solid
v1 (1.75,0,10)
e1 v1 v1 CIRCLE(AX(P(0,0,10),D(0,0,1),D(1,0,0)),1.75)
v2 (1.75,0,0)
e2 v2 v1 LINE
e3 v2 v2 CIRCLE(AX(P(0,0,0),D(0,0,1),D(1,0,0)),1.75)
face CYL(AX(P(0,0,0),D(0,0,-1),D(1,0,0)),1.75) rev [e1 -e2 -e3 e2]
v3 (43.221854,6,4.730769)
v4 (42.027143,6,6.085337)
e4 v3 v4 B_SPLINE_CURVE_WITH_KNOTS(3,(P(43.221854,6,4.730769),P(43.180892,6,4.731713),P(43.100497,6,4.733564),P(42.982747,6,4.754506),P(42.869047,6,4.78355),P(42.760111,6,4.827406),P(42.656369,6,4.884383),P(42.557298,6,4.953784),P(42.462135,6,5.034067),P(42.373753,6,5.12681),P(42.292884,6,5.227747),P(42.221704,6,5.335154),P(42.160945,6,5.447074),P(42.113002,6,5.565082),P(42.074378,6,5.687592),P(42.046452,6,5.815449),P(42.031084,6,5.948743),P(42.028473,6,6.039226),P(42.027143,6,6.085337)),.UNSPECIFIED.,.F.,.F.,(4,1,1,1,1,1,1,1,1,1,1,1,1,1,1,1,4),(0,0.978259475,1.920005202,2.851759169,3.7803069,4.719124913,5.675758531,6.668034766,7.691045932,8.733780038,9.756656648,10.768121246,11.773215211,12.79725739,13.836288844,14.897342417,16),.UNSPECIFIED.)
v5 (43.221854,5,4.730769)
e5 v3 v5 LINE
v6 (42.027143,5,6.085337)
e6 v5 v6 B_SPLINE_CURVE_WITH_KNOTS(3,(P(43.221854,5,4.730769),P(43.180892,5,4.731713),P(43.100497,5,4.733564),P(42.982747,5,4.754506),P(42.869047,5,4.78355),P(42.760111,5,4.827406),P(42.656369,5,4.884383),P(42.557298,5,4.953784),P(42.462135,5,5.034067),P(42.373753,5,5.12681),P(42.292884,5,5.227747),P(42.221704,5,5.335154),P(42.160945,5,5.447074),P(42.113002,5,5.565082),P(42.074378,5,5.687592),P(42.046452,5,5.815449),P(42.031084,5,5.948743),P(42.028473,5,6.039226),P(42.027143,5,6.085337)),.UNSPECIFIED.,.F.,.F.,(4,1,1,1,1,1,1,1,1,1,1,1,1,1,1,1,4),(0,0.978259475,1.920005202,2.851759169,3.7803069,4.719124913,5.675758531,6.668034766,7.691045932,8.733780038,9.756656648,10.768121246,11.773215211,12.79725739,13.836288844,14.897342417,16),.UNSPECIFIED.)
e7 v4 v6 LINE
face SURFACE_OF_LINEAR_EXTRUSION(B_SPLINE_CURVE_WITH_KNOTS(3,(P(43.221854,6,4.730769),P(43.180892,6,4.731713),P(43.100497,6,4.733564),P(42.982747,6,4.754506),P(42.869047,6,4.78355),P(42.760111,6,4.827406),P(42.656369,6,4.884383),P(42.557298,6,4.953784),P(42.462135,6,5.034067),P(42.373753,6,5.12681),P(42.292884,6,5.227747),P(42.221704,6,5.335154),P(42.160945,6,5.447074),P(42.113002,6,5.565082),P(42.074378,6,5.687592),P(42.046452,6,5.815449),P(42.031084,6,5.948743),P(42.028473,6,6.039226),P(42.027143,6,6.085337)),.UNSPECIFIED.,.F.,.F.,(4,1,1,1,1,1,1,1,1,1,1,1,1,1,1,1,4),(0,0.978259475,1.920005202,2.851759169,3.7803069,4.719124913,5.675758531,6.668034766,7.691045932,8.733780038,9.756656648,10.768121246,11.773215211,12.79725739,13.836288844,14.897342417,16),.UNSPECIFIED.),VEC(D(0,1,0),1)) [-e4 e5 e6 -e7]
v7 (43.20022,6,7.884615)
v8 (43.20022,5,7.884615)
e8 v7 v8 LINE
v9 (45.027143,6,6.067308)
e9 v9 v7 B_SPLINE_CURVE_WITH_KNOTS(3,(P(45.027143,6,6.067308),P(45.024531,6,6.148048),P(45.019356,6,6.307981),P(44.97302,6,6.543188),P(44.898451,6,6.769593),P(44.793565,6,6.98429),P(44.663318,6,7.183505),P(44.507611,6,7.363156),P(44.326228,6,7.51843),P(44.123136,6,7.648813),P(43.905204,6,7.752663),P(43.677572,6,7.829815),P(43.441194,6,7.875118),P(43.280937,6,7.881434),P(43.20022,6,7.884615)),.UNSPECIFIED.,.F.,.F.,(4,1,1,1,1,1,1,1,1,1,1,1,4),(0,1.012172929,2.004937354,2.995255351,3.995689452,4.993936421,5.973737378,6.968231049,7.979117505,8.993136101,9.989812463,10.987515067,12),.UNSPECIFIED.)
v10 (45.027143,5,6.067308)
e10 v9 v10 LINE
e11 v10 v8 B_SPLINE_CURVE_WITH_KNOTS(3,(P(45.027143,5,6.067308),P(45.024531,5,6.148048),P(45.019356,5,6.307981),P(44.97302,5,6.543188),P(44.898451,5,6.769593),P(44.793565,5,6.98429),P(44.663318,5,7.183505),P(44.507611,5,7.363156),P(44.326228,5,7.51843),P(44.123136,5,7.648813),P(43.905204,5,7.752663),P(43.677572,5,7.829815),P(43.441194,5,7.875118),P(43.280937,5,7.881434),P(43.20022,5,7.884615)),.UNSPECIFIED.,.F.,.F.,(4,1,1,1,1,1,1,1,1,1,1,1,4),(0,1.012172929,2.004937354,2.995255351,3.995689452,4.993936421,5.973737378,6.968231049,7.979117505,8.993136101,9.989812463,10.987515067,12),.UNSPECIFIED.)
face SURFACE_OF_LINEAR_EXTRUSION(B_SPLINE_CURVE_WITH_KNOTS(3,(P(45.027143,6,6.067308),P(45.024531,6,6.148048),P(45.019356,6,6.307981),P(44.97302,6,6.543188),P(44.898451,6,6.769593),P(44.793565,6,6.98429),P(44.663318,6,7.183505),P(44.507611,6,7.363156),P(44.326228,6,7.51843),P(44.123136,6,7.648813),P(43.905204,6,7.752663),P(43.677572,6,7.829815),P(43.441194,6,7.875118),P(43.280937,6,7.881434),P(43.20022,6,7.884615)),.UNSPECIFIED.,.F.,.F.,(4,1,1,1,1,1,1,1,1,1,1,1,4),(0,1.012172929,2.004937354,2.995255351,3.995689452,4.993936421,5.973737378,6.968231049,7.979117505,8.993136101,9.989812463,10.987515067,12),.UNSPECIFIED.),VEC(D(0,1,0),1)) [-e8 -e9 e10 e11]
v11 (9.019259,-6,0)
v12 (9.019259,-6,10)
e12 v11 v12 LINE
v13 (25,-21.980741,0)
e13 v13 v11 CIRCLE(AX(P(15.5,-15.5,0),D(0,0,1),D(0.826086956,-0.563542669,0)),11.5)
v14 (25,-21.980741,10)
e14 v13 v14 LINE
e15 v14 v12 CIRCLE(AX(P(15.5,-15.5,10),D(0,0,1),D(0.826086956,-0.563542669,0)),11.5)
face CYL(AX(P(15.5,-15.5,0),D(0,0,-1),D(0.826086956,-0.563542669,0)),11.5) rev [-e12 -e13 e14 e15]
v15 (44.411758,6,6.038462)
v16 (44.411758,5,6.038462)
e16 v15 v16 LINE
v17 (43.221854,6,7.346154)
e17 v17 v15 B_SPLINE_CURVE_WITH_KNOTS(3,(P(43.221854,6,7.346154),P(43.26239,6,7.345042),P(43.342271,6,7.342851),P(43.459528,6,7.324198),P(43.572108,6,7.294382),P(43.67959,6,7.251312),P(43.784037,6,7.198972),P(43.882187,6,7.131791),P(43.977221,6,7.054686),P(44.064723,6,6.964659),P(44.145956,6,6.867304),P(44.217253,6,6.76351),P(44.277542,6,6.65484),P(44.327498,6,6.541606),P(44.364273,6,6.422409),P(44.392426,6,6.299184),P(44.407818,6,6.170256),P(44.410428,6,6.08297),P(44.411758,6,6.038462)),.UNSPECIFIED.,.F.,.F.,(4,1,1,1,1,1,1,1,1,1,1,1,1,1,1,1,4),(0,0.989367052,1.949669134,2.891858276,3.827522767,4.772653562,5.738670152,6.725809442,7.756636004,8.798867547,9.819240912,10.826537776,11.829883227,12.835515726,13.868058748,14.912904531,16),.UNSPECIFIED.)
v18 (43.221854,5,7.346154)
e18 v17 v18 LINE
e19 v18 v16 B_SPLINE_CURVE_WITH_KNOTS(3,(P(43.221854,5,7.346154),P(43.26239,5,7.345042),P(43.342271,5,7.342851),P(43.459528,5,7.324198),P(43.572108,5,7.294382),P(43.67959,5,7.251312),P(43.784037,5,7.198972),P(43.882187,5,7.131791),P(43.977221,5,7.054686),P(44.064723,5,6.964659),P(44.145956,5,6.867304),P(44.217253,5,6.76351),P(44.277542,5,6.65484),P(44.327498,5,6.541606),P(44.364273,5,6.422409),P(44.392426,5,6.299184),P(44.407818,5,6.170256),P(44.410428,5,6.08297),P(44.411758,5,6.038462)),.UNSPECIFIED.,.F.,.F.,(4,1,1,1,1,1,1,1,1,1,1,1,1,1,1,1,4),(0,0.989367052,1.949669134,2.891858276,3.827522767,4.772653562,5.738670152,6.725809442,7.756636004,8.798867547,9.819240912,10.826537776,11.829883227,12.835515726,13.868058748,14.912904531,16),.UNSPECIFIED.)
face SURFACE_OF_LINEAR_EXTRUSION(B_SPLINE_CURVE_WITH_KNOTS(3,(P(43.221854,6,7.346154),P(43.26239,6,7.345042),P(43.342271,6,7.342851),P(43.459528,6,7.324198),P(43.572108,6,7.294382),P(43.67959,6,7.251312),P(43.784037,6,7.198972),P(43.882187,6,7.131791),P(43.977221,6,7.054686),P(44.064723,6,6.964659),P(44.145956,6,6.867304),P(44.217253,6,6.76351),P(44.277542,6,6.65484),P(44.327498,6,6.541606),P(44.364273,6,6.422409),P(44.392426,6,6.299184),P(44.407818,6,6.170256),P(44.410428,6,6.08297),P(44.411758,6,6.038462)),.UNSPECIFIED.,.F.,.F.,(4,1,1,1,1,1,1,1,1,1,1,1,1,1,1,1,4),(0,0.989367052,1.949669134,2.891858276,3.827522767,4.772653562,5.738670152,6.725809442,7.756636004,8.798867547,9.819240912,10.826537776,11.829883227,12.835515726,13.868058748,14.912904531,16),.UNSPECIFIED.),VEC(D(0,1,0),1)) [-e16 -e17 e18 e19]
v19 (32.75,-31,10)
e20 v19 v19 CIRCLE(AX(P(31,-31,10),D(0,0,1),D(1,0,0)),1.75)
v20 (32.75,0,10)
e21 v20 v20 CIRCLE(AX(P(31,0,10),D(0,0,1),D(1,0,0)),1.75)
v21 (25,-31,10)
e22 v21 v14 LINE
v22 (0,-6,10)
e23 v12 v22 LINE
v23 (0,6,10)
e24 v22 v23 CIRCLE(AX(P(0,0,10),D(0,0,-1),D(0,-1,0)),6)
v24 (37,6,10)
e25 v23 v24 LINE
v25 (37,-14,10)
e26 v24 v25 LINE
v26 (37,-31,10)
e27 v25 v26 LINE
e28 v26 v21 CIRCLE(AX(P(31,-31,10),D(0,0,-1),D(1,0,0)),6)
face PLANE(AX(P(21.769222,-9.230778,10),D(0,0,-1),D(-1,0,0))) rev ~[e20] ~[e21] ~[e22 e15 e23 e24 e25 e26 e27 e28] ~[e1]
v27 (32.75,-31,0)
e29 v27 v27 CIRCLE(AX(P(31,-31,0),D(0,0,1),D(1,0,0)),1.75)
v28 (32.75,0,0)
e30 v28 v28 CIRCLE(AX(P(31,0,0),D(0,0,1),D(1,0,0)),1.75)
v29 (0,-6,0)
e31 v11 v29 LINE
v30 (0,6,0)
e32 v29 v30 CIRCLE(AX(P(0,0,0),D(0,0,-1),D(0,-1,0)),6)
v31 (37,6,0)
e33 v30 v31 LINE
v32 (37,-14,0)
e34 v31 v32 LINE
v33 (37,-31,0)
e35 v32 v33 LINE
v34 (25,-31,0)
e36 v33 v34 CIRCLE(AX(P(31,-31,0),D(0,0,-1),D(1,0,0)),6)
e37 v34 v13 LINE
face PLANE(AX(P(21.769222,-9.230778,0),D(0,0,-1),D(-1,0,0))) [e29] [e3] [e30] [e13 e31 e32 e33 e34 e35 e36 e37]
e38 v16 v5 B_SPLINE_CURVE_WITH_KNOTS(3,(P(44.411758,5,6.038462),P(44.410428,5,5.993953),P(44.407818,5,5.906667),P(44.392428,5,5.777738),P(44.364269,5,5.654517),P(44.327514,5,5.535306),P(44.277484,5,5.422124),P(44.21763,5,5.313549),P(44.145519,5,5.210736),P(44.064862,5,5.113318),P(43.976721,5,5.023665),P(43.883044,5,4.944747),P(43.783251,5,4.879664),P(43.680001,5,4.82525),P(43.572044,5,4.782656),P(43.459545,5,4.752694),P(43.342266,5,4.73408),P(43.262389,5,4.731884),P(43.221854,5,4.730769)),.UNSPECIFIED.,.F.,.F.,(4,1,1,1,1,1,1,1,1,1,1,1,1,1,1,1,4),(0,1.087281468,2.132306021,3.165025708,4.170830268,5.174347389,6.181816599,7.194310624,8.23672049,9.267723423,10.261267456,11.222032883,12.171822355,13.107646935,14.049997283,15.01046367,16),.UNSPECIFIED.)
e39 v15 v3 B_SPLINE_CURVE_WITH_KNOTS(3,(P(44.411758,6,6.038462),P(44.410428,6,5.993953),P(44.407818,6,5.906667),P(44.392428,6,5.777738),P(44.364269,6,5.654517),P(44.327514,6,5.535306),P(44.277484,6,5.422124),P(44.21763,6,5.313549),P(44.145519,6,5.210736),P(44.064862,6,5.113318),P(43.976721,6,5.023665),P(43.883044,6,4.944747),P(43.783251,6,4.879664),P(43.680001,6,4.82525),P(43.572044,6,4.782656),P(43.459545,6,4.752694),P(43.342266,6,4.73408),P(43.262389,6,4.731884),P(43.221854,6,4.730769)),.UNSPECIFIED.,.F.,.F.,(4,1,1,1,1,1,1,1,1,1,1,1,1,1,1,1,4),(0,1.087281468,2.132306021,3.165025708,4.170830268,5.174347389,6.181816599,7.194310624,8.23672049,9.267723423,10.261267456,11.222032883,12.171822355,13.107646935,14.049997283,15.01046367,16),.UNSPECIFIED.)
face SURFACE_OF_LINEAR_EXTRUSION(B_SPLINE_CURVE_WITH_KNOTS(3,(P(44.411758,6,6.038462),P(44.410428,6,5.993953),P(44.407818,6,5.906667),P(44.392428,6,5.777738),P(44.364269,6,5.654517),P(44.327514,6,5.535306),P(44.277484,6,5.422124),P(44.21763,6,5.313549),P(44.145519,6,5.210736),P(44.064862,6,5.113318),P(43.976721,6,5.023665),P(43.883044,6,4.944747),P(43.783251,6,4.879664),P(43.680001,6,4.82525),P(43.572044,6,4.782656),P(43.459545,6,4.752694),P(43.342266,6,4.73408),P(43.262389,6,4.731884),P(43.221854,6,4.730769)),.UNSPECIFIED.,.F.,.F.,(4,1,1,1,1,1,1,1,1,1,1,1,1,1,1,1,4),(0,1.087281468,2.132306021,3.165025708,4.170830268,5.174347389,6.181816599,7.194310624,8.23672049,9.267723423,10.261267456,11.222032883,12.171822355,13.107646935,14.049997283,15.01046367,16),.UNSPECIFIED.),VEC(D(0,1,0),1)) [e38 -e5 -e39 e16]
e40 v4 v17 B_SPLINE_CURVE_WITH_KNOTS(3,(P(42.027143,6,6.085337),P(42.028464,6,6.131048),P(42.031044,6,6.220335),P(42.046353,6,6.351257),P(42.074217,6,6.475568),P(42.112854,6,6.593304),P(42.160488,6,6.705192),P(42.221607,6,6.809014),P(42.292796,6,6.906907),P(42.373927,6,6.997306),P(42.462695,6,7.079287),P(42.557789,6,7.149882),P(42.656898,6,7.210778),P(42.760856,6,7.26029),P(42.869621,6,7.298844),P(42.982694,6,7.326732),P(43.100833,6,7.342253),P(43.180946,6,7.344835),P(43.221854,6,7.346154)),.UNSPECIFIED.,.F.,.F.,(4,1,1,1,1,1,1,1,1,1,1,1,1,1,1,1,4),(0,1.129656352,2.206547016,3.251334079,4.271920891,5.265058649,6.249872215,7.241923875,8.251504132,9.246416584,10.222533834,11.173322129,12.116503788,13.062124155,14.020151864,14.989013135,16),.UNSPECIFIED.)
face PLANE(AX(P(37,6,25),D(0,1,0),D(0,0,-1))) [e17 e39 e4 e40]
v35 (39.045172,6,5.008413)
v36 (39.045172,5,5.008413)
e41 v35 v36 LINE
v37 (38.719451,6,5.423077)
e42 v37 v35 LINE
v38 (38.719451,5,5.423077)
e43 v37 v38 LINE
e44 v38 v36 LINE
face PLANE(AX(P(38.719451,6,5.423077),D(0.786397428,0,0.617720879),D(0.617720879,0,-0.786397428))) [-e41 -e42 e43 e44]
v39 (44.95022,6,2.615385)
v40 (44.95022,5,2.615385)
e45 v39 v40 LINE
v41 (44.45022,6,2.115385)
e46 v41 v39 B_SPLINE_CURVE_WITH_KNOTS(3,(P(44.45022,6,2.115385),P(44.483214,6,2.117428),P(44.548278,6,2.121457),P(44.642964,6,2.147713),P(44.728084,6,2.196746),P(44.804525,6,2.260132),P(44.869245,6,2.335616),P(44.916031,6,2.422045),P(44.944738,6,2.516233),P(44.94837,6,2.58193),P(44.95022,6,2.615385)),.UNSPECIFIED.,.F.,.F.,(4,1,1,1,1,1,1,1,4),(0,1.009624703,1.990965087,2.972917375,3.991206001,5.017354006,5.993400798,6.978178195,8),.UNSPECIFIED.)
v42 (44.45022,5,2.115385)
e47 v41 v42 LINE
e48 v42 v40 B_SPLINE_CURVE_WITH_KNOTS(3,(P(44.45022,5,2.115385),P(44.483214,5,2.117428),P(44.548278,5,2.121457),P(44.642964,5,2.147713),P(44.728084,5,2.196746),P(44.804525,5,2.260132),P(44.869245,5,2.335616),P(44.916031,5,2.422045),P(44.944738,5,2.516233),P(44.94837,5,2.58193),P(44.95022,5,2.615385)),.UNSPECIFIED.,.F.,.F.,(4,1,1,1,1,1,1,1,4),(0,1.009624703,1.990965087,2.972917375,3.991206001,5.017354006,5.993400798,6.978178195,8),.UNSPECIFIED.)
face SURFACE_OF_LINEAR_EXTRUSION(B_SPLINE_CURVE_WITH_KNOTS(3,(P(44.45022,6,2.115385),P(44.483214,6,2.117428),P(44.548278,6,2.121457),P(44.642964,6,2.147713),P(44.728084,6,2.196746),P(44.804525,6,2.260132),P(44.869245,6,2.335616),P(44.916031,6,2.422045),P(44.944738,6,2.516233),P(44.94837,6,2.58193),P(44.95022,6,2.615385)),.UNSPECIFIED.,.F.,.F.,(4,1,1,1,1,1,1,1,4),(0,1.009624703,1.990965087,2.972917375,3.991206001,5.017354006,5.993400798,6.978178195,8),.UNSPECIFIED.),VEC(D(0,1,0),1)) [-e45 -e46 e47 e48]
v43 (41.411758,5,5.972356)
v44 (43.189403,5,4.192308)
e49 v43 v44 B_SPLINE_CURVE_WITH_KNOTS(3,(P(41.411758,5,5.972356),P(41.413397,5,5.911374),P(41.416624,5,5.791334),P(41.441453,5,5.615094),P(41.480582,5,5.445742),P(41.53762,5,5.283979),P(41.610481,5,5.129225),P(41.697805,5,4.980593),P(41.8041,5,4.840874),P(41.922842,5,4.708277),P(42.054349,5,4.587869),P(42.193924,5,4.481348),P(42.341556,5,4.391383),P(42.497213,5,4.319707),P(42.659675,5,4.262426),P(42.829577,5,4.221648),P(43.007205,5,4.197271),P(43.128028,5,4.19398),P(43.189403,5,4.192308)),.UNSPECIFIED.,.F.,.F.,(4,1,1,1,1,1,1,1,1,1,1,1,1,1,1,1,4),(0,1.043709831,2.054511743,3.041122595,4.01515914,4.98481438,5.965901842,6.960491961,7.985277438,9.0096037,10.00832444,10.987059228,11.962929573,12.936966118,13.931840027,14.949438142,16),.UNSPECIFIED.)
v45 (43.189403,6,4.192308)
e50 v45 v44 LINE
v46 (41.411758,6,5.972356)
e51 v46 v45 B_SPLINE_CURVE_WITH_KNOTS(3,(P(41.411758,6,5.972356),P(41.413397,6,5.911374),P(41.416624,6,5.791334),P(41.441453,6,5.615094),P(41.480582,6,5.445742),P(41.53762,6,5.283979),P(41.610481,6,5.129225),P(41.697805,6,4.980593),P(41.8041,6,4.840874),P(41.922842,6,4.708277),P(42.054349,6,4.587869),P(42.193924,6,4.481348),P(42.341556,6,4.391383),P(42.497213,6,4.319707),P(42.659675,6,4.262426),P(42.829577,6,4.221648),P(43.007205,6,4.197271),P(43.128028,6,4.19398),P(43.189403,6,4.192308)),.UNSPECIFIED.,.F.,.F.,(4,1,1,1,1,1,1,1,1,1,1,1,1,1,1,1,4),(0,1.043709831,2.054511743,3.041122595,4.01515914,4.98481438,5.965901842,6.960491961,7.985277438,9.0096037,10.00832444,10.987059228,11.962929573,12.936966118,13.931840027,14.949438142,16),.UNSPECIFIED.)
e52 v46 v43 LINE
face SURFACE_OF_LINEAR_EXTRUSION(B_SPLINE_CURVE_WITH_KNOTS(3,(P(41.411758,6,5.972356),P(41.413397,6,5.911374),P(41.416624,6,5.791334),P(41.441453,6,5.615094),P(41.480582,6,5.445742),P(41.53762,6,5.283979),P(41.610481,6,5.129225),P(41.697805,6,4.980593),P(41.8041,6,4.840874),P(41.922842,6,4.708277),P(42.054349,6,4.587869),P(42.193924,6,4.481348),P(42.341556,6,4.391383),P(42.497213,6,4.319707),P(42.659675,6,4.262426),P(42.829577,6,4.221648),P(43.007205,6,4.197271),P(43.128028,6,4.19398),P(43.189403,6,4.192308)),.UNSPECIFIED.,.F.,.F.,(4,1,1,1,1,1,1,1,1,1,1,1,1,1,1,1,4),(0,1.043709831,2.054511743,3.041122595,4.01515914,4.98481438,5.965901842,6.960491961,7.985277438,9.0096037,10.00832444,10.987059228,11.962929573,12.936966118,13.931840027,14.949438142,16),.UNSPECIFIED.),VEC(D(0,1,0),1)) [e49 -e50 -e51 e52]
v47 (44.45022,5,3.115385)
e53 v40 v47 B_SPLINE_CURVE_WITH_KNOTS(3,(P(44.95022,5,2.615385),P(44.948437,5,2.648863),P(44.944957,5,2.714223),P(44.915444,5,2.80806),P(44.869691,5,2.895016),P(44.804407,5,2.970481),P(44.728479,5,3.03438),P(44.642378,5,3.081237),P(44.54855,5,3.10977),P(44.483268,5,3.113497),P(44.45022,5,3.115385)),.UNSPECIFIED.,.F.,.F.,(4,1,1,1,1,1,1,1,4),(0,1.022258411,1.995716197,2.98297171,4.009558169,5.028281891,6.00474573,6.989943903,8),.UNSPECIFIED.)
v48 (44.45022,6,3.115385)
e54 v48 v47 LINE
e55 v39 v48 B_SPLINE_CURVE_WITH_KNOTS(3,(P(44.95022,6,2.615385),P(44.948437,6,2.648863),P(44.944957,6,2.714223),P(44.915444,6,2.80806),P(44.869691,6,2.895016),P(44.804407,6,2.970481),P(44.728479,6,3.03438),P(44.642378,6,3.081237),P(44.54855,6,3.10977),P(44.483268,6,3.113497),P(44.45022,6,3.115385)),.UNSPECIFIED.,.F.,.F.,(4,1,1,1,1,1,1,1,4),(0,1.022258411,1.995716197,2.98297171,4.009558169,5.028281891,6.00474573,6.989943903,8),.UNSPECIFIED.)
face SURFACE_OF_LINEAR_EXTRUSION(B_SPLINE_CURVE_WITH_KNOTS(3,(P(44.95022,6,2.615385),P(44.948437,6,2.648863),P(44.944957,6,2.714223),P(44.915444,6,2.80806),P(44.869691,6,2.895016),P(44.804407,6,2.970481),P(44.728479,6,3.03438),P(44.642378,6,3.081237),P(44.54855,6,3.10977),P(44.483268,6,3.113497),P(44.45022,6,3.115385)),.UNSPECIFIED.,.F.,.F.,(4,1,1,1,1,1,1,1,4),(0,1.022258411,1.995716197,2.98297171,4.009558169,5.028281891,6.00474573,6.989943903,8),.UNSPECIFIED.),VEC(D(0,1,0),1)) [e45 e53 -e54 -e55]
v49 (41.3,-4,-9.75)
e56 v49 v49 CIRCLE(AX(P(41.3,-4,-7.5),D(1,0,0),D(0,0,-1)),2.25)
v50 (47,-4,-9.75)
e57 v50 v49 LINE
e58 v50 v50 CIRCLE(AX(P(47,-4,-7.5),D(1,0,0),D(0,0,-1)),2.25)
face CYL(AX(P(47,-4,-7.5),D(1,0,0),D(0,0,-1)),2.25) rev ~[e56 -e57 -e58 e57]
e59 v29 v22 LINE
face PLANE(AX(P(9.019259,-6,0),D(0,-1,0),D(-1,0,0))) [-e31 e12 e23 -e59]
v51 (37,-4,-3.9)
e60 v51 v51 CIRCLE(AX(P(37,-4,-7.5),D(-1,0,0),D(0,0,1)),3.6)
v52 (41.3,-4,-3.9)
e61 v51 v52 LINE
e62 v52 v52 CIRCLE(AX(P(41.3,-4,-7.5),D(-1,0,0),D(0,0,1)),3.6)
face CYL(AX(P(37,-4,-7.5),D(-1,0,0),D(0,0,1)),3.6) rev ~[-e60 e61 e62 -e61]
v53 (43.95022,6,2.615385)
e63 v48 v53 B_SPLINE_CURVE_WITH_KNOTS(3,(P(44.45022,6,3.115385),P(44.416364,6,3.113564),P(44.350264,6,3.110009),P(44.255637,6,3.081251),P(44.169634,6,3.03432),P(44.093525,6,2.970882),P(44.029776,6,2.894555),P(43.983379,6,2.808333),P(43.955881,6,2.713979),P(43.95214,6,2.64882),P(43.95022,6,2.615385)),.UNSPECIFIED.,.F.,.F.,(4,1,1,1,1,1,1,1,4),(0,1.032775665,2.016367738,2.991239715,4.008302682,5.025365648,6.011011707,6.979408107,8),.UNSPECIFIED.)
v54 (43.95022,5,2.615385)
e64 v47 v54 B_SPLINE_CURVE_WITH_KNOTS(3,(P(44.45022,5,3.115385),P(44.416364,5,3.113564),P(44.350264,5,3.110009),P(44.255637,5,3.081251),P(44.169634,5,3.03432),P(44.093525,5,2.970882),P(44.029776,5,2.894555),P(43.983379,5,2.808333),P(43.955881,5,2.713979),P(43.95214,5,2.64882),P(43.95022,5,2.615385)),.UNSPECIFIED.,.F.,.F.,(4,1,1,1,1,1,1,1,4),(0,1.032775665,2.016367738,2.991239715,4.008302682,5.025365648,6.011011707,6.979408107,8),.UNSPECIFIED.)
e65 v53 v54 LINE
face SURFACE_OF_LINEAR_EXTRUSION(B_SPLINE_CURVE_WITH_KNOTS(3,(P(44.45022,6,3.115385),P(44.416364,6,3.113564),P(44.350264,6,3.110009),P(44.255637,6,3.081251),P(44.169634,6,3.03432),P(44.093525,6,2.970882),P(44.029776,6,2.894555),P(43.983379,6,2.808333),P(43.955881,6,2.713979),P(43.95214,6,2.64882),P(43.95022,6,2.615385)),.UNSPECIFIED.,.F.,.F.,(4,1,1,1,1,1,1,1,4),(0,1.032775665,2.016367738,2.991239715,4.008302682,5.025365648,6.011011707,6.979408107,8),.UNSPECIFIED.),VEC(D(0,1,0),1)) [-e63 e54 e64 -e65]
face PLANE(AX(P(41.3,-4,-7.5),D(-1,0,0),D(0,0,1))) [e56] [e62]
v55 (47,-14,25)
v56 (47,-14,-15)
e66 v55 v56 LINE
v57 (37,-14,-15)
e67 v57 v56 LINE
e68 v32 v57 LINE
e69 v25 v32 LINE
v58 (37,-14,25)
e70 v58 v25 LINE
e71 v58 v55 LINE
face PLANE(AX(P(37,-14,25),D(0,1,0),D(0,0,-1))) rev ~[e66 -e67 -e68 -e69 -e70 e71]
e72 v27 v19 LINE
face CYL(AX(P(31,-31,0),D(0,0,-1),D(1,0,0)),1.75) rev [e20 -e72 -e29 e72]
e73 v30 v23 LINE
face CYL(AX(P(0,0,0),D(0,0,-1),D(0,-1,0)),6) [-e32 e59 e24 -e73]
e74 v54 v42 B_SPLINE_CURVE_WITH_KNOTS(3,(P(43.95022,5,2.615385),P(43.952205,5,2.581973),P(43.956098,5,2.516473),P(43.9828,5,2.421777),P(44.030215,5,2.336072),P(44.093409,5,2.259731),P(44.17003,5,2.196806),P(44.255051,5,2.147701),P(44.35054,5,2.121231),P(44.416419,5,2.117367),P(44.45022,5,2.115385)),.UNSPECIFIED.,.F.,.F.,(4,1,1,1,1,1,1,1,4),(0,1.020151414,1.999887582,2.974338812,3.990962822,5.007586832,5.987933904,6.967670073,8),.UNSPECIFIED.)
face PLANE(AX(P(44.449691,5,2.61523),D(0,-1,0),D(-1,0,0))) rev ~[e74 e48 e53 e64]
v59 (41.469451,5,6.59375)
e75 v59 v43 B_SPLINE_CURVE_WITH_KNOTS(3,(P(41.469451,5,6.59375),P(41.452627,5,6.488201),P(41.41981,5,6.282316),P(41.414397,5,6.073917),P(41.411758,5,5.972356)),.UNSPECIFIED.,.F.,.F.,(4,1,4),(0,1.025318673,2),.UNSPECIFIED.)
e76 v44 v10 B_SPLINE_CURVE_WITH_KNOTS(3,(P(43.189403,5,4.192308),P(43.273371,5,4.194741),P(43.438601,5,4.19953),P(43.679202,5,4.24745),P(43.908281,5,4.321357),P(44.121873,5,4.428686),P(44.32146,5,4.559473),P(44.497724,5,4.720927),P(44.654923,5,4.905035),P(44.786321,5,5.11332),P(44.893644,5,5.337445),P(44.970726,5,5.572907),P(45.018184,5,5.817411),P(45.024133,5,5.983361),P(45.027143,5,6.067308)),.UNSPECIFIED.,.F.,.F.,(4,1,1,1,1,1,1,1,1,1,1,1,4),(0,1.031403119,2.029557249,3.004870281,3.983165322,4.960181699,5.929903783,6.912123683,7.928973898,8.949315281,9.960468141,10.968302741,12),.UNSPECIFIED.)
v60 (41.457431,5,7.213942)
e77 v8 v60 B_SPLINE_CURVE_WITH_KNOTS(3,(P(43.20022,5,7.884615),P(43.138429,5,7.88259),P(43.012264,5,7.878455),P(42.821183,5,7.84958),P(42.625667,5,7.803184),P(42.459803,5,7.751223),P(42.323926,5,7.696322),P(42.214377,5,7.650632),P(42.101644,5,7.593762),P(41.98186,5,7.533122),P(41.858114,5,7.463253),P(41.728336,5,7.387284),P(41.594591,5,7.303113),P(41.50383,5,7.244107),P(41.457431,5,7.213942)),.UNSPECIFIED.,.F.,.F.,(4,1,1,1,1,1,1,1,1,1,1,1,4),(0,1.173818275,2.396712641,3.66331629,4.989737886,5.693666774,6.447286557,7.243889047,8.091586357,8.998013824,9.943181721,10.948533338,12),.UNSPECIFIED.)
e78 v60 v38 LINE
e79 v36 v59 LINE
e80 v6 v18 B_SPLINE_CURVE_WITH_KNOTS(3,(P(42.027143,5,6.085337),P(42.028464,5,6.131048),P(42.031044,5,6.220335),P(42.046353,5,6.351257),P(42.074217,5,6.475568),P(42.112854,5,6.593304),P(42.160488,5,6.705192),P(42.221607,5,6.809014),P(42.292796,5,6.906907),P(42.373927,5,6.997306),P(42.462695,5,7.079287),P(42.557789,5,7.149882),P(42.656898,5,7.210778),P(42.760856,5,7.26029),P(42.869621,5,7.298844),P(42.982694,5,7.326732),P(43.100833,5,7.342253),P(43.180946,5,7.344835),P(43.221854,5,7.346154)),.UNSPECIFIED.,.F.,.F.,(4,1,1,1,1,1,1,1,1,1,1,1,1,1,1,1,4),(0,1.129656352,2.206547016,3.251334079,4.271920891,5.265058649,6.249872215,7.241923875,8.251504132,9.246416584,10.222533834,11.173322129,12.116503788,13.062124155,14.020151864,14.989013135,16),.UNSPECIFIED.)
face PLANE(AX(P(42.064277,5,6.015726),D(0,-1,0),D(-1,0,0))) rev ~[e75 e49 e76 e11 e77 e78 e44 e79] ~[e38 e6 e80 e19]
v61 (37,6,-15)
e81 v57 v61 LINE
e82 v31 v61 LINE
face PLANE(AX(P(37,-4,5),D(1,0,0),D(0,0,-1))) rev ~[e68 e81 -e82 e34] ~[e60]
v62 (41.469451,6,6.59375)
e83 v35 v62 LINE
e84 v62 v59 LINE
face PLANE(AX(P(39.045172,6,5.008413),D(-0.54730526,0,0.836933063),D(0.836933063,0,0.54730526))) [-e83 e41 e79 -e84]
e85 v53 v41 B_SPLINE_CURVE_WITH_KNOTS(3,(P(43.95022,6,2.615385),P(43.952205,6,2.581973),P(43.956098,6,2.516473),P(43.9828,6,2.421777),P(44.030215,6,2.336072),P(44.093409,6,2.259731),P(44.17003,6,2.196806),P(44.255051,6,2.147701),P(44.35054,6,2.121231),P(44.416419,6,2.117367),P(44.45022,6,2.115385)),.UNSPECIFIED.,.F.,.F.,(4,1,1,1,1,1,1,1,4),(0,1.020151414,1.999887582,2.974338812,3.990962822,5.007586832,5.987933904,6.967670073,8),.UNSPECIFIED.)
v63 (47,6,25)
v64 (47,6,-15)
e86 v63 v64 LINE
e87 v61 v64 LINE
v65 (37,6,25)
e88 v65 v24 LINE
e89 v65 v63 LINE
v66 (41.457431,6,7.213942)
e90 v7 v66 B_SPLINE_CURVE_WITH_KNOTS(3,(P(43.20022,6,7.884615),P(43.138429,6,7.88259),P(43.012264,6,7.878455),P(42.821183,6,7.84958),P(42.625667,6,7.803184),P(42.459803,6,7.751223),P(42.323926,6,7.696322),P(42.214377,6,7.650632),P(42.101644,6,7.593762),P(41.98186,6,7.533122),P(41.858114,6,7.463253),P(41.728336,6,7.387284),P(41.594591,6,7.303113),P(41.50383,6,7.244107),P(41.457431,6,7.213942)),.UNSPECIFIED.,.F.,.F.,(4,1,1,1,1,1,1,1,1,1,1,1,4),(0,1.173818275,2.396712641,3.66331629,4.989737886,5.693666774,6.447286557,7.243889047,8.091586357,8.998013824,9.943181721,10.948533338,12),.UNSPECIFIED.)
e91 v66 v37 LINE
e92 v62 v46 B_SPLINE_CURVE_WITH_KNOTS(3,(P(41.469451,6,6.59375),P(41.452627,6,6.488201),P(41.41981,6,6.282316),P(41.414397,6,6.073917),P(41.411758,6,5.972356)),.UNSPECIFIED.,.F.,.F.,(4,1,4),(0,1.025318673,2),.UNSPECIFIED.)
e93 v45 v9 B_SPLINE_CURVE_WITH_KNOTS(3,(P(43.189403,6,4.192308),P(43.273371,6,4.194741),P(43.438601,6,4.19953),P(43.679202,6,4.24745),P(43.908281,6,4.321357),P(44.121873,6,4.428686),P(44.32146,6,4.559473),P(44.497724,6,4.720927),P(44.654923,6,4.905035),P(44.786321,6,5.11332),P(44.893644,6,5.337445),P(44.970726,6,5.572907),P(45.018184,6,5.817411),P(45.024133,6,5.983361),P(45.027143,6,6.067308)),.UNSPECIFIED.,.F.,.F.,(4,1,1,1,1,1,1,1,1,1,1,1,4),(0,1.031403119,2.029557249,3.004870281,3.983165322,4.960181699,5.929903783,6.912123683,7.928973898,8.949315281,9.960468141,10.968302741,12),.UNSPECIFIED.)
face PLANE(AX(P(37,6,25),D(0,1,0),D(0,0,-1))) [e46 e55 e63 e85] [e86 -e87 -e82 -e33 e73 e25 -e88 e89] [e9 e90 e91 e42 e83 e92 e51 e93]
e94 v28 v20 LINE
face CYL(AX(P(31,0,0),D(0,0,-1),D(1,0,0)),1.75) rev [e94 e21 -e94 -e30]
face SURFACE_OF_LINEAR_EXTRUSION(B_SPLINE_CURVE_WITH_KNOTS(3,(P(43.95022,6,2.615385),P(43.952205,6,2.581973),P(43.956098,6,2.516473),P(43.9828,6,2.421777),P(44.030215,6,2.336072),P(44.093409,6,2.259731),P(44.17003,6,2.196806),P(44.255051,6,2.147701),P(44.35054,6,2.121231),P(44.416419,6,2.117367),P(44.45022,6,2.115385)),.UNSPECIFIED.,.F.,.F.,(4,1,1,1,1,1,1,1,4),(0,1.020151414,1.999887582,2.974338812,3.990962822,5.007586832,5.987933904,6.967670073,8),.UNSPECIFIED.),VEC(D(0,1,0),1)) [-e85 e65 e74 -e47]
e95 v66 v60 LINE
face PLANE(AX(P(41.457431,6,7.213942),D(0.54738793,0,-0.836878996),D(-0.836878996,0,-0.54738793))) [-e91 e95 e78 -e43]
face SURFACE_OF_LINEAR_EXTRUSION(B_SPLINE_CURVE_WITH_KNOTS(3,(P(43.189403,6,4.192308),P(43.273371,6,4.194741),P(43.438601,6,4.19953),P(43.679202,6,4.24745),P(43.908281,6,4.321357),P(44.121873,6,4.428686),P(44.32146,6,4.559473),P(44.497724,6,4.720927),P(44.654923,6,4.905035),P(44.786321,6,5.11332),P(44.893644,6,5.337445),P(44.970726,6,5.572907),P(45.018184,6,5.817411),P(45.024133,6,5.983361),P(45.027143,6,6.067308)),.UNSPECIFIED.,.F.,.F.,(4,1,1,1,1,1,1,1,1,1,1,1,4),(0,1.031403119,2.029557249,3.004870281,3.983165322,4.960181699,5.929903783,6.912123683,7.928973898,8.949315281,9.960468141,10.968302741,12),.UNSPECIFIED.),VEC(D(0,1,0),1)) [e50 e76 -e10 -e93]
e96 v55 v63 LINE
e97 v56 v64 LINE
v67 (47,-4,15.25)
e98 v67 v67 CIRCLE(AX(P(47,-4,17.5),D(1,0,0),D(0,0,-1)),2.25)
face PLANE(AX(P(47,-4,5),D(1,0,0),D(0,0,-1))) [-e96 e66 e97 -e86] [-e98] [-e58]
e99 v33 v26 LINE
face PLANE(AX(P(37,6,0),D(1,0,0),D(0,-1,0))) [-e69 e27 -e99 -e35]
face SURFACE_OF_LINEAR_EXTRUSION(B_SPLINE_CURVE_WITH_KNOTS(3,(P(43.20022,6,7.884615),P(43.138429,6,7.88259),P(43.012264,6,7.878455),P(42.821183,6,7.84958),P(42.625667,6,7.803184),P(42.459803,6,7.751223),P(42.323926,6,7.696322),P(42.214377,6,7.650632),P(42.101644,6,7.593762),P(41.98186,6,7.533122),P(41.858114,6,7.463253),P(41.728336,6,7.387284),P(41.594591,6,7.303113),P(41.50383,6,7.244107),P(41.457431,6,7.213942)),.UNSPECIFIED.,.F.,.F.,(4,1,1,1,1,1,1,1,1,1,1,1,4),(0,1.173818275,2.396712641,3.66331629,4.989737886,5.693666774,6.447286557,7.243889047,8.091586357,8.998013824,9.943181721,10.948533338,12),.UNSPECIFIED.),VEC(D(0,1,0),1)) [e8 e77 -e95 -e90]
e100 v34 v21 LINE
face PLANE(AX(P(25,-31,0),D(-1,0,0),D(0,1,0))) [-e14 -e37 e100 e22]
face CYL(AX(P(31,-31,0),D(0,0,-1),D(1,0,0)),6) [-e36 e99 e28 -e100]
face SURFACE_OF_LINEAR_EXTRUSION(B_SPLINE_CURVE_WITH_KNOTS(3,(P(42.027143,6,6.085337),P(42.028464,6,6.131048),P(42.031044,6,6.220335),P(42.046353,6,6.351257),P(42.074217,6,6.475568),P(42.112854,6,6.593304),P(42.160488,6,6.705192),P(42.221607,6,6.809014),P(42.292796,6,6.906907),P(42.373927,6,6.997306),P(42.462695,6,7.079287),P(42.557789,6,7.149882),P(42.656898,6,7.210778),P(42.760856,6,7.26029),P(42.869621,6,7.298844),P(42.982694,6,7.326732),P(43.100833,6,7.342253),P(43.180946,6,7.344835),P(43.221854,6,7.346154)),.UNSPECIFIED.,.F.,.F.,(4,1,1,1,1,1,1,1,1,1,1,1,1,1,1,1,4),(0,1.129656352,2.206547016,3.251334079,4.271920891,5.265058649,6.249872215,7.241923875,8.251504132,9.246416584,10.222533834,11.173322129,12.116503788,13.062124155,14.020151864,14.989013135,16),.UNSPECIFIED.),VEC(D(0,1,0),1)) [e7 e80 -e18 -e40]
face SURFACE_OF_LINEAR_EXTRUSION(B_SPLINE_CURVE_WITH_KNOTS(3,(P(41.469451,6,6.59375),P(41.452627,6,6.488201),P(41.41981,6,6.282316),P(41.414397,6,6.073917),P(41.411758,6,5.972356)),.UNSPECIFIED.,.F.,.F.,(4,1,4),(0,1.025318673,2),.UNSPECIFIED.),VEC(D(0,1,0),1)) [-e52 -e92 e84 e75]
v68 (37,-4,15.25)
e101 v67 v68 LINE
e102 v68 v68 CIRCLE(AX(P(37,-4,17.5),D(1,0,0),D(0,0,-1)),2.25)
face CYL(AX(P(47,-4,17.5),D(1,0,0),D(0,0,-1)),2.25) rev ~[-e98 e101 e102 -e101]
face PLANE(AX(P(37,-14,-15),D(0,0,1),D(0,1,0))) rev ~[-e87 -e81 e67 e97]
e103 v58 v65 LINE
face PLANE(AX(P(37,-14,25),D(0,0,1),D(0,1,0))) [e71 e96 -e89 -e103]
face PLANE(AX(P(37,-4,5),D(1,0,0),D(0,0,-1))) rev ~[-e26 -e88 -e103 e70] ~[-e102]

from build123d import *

# Parameters (mm, degrees)
CROQUIS1_R              = 1.75
SALIENTE_EXTRUIR1_DEPTH = 10
CROQUIS3_W              = 40
CROQUIS3_H              = 20
SALIENTE_EXTRUIR2_DEPTH = 10
CROQUIS4_R              = 2.25
CORTAR_EXTRUIR2_DEPTH   = 10
CORTAR_EXTRUIR3_DEPTH   = 1
CROQUIS6_R              = 3.6
CORTAR_EXTRUIR4_DEPTH   = 4.3


with BuildPart() as part:
    # Croquis1 → Saliente-Extruir1 (new body)
    with BuildSketch(Plane.XY):
        with BuildLine():
            Line((0, 6), (31, 6))
            Line((31, 6), (37, 6))
            Line((37, 6), (37, 0))
            Line((37, 0), (37, -31))
            ThreePointArc((37, -31), (31, -37), (25, -31))
            Line((25, -31), (25, -21.980740698))
            ThreePointArc((25, -21.980740698), (23.631727984, -7.368272016), (9.019259302, -6))
            Line((9.019259302, -6), (0, -6))
            ThreePointArc((0, -6), (-6, 0), (0, 6))
        make_face()
        Circle(CROQUIS1_R, mode=Mode.SUBTRACT)
        with Locations((31, 0)):
            Circle(CROQUIS1_R, mode=Mode.SUBTRACT)
        with Locations((31, -31)):
            Circle(CROQUIS1_R, mode=Mode.SUBTRACT)
    extrude(amount=SALIENTE_EXTRUIR1_DEPTH)

    # Croquis3 → Saliente-Extruir2 (add)
    with BuildSketch(Plane(origin=(37, 0, 0), x_dir=(0, 0, -1), z_dir=(1, 0, 0))):
        with Locations((-5, -4)):
            Rectangle(CROQUIS3_W, CROQUIS3_H)
    extrude(amount=SALIENTE_EXTRUIR2_DEPTH)

    # Croquis4 → Cortar-Extruir2 (cut)
    with BuildSketch(Plane(origin=(47, 0, 0), x_dir=(0, 0, -1), z_dir=(1, 0, 0))):
        with Locations((-17.5, -4)):
            Circle(CROQUIS4_R)
        with Locations((7.5, -4)):
            Circle(CROQUIS4_R)
    extrude(amount=-CORTAR_EXTRUIR2_DEPTH, mode=Mode.SUBTRACT)

    # Croquis5 → Cortar-Extruir3 (cut)
    # profile 1 of 2: a face of its own
    with BuildSketch(Plane(origin=(0, 6, 0), x_dir=(1, 0, 0), z_dir=(0, 1, 0))):
        with BuildLine():
            Line((38.719450651, -5.423076923), (39.045171805, -5.008413462))
            Line((39.045171805, -5.008413462), (41.469450651, -6.59375))
            add(Edge.make_bspline(
                [(41.469450651, -6.59375), (41.45262689, -6.488200954), (41.419810241, -6.282315605), (41.414396621, -6.073916922), (41.411758343, -5.972355769)],
                knots=[0, 0, 0, 0, 1.025318673, 2, 2, 2, 2], degree=3))
            add(Edge.make_bspline(
                [(41.411758343, -5.972355769), (41.413397392, -5.911374347), (41.41662381, -5.791334232), (41.441453269, -5.615094001), (41.48058203, -5.445741533), (41.537620193, -5.283978793), (41.610481332, -5.12922502), (41.69780526, -4.98059268), (41.804100137, -4.84087365), (41.922842279, -4.708276629), (42.054348853, -4.587868709), (42.193923862, -4.481348491), (42.341556266, -4.391383269), (42.497212867, -4.319707477), (42.659675206, -4.262425826), (42.829576898, -4.221648263), (43.0072047, -4.197270821), (43.128028028, -4.193979555), (43.189402574, -4.192307692)],
                knots=[0, 0, 0, 0, 1.043709831, 2.054511743, 3.041122595, 4.01515914, 4.98481438, 5.965901842, 6.960491961, 7.985277438, 9.0096037, 10.00832444, 10.987059228, 11.962929573, 12.936966118, 13.931840027, 14.949438142, 16, 16, 16, 16], degree=3))
            add(Edge.make_bspline(
                [(43.189402574, -4.192307692), (43.273370923, -4.194741372), (43.438600762, -4.199530277), (43.679201656, -4.247450052), (43.908280527, -4.321356873), (44.121873475, -4.428685672), (44.321459866, -4.559473328), (44.497723912, -4.720926587), (44.654923346, -4.905035031), (44.786320549, -5.113320498), (44.893643904, -5.337445219), (44.970726157, -5.572907398), (45.018183801, -5.817410653), (45.024133369, -5.983361467), (45.027142959, -6.067307692)],
                knots=[0, 0, 0, 0, 1.031403119, 2.029557249, 3.004870281, 3.983165322, 4.960181699, 5.929903783, 6.912123683, 7.928973898, 8.949315281, 9.960468141, 10.968302741, 12, 12, 12, 12], degree=3))
            add(Edge.make_bspline(
                [(45.027142959, -6.067307692), (45.024530622, -6.148048292), (45.019356041, -6.307981282), (44.973019832, -6.5431878), (44.898450918, -6.769592811), (44.79356478, -6.984290092), (44.66331814, -7.183504791), (44.507611369, -7.363156395), (44.32622815, -7.5184301), (44.123136349, -7.648813278), (43.905204402, -7.75266345), (43.677571617, -7.829814545), (43.441193643, -7.875117968), (43.280937295, -7.881434097), (43.200219882, -7.884615385)],
                knots=[0, 0, 0, 0, 1.012172929, 2.004937354, 2.995255351, 3.995689452, 4.993936421, 5.973737378, 6.968231049, 7.979117505, 8.993136101, 9.989812463, 10.987515067, 12, 12, 12, 12], degree=3))
            add(Edge.make_bspline(
                [(43.200219882, -7.884615385), (43.138429168, -7.88259005), (43.012264336, -7.878454705), (42.821183145, -7.849580321), (42.625667005, -7.80318353), (42.459802673, -7.751223108), (42.323925778, -7.696322062), (42.214376937, -7.650631994), (42.101643669, -7.593762287), (41.981860293, -7.533122205), (41.858113837, -7.463253287), (41.728336117, -7.387283602), (41.594591099, -7.303112772), (41.503829621, -7.244106778), (41.45743142, -7.213942308)],
                knots=[0, 0, 0, 0, 1.173818275, 2.396712641, 3.66331629, 4.989737886, 5.693666774, 6.447286557, 7.243889047, 8.091586357, 8.998013824, 9.943181721, 10.948533338, 12, 12, 12, 12], degree=3))
            Line((41.45743142, -7.213942308), (38.719450651, -5.423076923))
        make_face()
        with BuildLine():
            add(Edge.make_bspline(
                [(42.027142959, -6.085336538), (42.028463871, -6.131047697), (42.031043996, -6.220334868), (42.046353115, -6.351256722), (42.074217455, -6.47556773), (42.112853793, -6.593303975), (42.160487874, -6.705191769), (42.221606583, -6.809013804), (42.29279593, -6.906906504), (42.373927128, -6.997305799), (42.462694986, -7.079287189), (42.557788622, -7.149882157), (42.656897901, -7.210778026), (42.760855723, -7.260289629), (42.869621095, -7.298844068), (42.982694109, -7.326732492), (43.100832915, -7.34225321), (43.180945778, -7.344835321), (43.221854497, -7.346153846)],
                knots=[0, 0, 0, 0, 1.129656352, 2.206547016, 3.251334079, 4.271920891, 5.265058649, 6.249872215, 7.241923875, 8.251504132, 9.246416584, 10.222533834, 11.173322129, 12.116503788, 13.062124155, 14.020151864, 14.989013135, 16, 16, 16, 16], degree=3))
            add(Edge.make_bspline(
                [(43.221854497, -7.346153846), (43.262390236, -7.345042059), (43.342270883, -7.342851147), (43.459527516, -7.324197734), (43.572108371, -7.294382199), (43.679590351, -7.251311648), (43.784036826, -7.19897235), (43.882187361, -7.131790832), (43.97722126, -7.054685968), (44.064722932, -6.964658995), (44.145955918, -6.8673042), (44.217253031, -6.763510182), (44.277542135, -6.654839733), (44.327498317, -6.541605832), (44.364273193, -6.422408765), (44.39242636, -6.29918399), (44.407818081, -6.170256123), (44.410427684, -6.082969666), (44.411758343, -6.038461538)],
                knots=[0, 0, 0, 0, 0.989367052, 1.949669134, 2.891858276, 3.827522767, 4.772653562, 5.738670152, 6.725809442, 7.756636004, 8.798867547, 9.819240912, 10.826537776, 11.829883227, 12.835515726, 13.868058748, 14.912904531, 16, 16, 16, 16], degree=3))
            add(Edge.make_bspline(
                [(44.411758343, -6.038461538), (44.41042758, -5.993953484), (44.407817774, -5.90666717), (44.392427526, -5.777738265), (44.364268919, -5.654517323), (44.327513802, -5.535306334), (44.277484342, -5.422124068), (44.217630322, -5.313548608), (44.145518764, -5.210736256), (44.064862408, -5.113318104), (43.976721258, -5.02366527), (43.883043664, -4.944746981), (43.783251472, -4.879664359), (43.680001032, -4.825249844), (43.572044173, -4.782656193), (43.459545037, -4.752693871), (43.342266312, -4.73408014), (43.262388698, -4.731883781), (43.221854497, -4.730769231)],
                knots=[0, 0, 0, 0, 1.087281468, 2.132306021, 3.165025708, 4.170830268, 5.174347389, 6.181816599, 7.194310624, 8.23672049, 9.267723423, 10.261267456, 11.222032883, 12.171822355, 13.107646935, 14.049997283, 15.01046367, 16, 16, 16, 16], degree=3))
            add(Edge.make_bspline(
                [(43.221854497, -4.730769231), (43.180892409, -4.73171259), (43.100497153, -4.733564098), (42.982746954, -4.754505725), (42.869046586, -4.783549789), (42.760110728, -4.827406434), (42.656368933, -4.884383287), (42.557298409, -4.953783726), (42.462134709, -5.034066908), (42.373753422, -5.126810316), (42.292883888, -5.227746884), (42.22170449, -5.335154265), (42.160945465, -5.447073949), (42.113001784, -5.565082488), (42.074377809, -5.687592088), (42.046452462, -5.815448694), (42.031083903, -5.948743241), (42.028473339, -6.039225506), (42.027142959, -6.085336538)],
                knots=[0, 0, 0, 0, 0.978259475, 1.920005202, 2.851759169, 3.7803069, 4.719124913, 5.675758531, 6.668034766, 7.691045932, 8.733780038, 9.756656648, 10.768121246, 11.773215211, 12.79725739, 13.836288844, 14.897342417, 16, 16, 16, 16], degree=3))
        make_face(mode=Mode.SUBTRACT)
    # profile 2 of 2: a face of its own
    with BuildSketch(Plane(origin=(0, 6, 0), x_dir=(1, 0, 0), z_dir=(0, 1, 0))):
        with BuildLine():
            add(Edge.make_bspline(
                [(43.950219882, -2.615384615), (43.95220531, -2.581972823), (43.956097511, -2.51647291), (43.98280038, -2.421777262), (44.030215227, -2.336072131), (44.093408561, -2.25973114), (44.170029698, -2.196805752), (44.255051256, -2.147701148), (44.3505397, -2.121230888), (44.416419143, -2.117367039), (44.450219882, -2.115384615)],
                knots=[0, 0, 0, 0, 1.020151414, 1.999887582, 2.974338812, 3.990962822, 5.007586832, 5.987933904, 6.967670073, 8, 8, 8, 8], degree=3))
            add(Edge.make_bspline(
                [(44.450219882, -2.115384615), (44.48321411, -2.117427904), (44.548278244, -2.121457239), (44.642964488, -2.147713091), (44.728083557, -2.196746141), (44.804525099, -2.260131503), (44.869244769, -2.335615588), (44.916031001, -2.422045399), (44.944737682, -2.516233448), (44.948370129, -2.581929945), (44.950219882, -2.615384615)],
                knots=[0, 0, 0, 0, 1.009624703, 1.990965087, 2.972917375, 3.991206001, 5.017354006, 5.993400798, 6.978178195, 8, 8, 8, 8], degree=3))
            add(Edge.make_bspline(
                [(44.950219882, -2.615384615), (44.948437276, -2.648863379), (44.944957162, -2.714222696), (44.915444253, -2.80805959), (44.869691223, -2.895016193), (44.804407281, -2.970480663), (44.728478959, -3.034379676), (44.642378281, -3.081237346), (44.548549602, -3.109769691), (44.483267561, -3.113497493), (44.450219882, -3.115384615)],
                knots=[0, 0, 0, 0, 1.022258411, 1.995716197, 2.98297171, 4.009558169, 5.028281891, 6.00474573, 6.989943903, 8, 8, 8, 8], degree=3))
            add(Edge.make_bspline(
                [(44.450219882, -3.115384615), (44.416363802, -3.113563874), (44.350263962, -3.110009099), (44.255636921, -3.081250825), (44.169633882, -3.034320176), (44.093525459, -2.970882356), (44.029775797, -2.894554991), (43.983379009, -2.808332925), (43.95588116, -2.713979428), (43.952139702, -2.648819533), (43.950219882, -2.615384615)],
                knots=[0, 0, 0, 0, 1.032775665, 2.016367738, 2.991239715, 4.008302682, 5.025365648, 6.011011707, 6.979408107, 8, 8, 8, 8], degree=3))
        make_face()
    extrude(amount=-CORTAR_EXTRUIR3_DEPTH, mode=Mode.SUBTRACT)

    # Croquis6 → Cortar-Extruir4 (cut)
    with BuildSketch(Plane.ZY.offset(-37)):
        with Locations((-7.5, -4)):
            Circle(CROQUIS6_R)
    extrude(amount=-CORTAR_EXTRUIR4_DEPTH, mode=Mode.SUBTRACT)


solid = part.part
